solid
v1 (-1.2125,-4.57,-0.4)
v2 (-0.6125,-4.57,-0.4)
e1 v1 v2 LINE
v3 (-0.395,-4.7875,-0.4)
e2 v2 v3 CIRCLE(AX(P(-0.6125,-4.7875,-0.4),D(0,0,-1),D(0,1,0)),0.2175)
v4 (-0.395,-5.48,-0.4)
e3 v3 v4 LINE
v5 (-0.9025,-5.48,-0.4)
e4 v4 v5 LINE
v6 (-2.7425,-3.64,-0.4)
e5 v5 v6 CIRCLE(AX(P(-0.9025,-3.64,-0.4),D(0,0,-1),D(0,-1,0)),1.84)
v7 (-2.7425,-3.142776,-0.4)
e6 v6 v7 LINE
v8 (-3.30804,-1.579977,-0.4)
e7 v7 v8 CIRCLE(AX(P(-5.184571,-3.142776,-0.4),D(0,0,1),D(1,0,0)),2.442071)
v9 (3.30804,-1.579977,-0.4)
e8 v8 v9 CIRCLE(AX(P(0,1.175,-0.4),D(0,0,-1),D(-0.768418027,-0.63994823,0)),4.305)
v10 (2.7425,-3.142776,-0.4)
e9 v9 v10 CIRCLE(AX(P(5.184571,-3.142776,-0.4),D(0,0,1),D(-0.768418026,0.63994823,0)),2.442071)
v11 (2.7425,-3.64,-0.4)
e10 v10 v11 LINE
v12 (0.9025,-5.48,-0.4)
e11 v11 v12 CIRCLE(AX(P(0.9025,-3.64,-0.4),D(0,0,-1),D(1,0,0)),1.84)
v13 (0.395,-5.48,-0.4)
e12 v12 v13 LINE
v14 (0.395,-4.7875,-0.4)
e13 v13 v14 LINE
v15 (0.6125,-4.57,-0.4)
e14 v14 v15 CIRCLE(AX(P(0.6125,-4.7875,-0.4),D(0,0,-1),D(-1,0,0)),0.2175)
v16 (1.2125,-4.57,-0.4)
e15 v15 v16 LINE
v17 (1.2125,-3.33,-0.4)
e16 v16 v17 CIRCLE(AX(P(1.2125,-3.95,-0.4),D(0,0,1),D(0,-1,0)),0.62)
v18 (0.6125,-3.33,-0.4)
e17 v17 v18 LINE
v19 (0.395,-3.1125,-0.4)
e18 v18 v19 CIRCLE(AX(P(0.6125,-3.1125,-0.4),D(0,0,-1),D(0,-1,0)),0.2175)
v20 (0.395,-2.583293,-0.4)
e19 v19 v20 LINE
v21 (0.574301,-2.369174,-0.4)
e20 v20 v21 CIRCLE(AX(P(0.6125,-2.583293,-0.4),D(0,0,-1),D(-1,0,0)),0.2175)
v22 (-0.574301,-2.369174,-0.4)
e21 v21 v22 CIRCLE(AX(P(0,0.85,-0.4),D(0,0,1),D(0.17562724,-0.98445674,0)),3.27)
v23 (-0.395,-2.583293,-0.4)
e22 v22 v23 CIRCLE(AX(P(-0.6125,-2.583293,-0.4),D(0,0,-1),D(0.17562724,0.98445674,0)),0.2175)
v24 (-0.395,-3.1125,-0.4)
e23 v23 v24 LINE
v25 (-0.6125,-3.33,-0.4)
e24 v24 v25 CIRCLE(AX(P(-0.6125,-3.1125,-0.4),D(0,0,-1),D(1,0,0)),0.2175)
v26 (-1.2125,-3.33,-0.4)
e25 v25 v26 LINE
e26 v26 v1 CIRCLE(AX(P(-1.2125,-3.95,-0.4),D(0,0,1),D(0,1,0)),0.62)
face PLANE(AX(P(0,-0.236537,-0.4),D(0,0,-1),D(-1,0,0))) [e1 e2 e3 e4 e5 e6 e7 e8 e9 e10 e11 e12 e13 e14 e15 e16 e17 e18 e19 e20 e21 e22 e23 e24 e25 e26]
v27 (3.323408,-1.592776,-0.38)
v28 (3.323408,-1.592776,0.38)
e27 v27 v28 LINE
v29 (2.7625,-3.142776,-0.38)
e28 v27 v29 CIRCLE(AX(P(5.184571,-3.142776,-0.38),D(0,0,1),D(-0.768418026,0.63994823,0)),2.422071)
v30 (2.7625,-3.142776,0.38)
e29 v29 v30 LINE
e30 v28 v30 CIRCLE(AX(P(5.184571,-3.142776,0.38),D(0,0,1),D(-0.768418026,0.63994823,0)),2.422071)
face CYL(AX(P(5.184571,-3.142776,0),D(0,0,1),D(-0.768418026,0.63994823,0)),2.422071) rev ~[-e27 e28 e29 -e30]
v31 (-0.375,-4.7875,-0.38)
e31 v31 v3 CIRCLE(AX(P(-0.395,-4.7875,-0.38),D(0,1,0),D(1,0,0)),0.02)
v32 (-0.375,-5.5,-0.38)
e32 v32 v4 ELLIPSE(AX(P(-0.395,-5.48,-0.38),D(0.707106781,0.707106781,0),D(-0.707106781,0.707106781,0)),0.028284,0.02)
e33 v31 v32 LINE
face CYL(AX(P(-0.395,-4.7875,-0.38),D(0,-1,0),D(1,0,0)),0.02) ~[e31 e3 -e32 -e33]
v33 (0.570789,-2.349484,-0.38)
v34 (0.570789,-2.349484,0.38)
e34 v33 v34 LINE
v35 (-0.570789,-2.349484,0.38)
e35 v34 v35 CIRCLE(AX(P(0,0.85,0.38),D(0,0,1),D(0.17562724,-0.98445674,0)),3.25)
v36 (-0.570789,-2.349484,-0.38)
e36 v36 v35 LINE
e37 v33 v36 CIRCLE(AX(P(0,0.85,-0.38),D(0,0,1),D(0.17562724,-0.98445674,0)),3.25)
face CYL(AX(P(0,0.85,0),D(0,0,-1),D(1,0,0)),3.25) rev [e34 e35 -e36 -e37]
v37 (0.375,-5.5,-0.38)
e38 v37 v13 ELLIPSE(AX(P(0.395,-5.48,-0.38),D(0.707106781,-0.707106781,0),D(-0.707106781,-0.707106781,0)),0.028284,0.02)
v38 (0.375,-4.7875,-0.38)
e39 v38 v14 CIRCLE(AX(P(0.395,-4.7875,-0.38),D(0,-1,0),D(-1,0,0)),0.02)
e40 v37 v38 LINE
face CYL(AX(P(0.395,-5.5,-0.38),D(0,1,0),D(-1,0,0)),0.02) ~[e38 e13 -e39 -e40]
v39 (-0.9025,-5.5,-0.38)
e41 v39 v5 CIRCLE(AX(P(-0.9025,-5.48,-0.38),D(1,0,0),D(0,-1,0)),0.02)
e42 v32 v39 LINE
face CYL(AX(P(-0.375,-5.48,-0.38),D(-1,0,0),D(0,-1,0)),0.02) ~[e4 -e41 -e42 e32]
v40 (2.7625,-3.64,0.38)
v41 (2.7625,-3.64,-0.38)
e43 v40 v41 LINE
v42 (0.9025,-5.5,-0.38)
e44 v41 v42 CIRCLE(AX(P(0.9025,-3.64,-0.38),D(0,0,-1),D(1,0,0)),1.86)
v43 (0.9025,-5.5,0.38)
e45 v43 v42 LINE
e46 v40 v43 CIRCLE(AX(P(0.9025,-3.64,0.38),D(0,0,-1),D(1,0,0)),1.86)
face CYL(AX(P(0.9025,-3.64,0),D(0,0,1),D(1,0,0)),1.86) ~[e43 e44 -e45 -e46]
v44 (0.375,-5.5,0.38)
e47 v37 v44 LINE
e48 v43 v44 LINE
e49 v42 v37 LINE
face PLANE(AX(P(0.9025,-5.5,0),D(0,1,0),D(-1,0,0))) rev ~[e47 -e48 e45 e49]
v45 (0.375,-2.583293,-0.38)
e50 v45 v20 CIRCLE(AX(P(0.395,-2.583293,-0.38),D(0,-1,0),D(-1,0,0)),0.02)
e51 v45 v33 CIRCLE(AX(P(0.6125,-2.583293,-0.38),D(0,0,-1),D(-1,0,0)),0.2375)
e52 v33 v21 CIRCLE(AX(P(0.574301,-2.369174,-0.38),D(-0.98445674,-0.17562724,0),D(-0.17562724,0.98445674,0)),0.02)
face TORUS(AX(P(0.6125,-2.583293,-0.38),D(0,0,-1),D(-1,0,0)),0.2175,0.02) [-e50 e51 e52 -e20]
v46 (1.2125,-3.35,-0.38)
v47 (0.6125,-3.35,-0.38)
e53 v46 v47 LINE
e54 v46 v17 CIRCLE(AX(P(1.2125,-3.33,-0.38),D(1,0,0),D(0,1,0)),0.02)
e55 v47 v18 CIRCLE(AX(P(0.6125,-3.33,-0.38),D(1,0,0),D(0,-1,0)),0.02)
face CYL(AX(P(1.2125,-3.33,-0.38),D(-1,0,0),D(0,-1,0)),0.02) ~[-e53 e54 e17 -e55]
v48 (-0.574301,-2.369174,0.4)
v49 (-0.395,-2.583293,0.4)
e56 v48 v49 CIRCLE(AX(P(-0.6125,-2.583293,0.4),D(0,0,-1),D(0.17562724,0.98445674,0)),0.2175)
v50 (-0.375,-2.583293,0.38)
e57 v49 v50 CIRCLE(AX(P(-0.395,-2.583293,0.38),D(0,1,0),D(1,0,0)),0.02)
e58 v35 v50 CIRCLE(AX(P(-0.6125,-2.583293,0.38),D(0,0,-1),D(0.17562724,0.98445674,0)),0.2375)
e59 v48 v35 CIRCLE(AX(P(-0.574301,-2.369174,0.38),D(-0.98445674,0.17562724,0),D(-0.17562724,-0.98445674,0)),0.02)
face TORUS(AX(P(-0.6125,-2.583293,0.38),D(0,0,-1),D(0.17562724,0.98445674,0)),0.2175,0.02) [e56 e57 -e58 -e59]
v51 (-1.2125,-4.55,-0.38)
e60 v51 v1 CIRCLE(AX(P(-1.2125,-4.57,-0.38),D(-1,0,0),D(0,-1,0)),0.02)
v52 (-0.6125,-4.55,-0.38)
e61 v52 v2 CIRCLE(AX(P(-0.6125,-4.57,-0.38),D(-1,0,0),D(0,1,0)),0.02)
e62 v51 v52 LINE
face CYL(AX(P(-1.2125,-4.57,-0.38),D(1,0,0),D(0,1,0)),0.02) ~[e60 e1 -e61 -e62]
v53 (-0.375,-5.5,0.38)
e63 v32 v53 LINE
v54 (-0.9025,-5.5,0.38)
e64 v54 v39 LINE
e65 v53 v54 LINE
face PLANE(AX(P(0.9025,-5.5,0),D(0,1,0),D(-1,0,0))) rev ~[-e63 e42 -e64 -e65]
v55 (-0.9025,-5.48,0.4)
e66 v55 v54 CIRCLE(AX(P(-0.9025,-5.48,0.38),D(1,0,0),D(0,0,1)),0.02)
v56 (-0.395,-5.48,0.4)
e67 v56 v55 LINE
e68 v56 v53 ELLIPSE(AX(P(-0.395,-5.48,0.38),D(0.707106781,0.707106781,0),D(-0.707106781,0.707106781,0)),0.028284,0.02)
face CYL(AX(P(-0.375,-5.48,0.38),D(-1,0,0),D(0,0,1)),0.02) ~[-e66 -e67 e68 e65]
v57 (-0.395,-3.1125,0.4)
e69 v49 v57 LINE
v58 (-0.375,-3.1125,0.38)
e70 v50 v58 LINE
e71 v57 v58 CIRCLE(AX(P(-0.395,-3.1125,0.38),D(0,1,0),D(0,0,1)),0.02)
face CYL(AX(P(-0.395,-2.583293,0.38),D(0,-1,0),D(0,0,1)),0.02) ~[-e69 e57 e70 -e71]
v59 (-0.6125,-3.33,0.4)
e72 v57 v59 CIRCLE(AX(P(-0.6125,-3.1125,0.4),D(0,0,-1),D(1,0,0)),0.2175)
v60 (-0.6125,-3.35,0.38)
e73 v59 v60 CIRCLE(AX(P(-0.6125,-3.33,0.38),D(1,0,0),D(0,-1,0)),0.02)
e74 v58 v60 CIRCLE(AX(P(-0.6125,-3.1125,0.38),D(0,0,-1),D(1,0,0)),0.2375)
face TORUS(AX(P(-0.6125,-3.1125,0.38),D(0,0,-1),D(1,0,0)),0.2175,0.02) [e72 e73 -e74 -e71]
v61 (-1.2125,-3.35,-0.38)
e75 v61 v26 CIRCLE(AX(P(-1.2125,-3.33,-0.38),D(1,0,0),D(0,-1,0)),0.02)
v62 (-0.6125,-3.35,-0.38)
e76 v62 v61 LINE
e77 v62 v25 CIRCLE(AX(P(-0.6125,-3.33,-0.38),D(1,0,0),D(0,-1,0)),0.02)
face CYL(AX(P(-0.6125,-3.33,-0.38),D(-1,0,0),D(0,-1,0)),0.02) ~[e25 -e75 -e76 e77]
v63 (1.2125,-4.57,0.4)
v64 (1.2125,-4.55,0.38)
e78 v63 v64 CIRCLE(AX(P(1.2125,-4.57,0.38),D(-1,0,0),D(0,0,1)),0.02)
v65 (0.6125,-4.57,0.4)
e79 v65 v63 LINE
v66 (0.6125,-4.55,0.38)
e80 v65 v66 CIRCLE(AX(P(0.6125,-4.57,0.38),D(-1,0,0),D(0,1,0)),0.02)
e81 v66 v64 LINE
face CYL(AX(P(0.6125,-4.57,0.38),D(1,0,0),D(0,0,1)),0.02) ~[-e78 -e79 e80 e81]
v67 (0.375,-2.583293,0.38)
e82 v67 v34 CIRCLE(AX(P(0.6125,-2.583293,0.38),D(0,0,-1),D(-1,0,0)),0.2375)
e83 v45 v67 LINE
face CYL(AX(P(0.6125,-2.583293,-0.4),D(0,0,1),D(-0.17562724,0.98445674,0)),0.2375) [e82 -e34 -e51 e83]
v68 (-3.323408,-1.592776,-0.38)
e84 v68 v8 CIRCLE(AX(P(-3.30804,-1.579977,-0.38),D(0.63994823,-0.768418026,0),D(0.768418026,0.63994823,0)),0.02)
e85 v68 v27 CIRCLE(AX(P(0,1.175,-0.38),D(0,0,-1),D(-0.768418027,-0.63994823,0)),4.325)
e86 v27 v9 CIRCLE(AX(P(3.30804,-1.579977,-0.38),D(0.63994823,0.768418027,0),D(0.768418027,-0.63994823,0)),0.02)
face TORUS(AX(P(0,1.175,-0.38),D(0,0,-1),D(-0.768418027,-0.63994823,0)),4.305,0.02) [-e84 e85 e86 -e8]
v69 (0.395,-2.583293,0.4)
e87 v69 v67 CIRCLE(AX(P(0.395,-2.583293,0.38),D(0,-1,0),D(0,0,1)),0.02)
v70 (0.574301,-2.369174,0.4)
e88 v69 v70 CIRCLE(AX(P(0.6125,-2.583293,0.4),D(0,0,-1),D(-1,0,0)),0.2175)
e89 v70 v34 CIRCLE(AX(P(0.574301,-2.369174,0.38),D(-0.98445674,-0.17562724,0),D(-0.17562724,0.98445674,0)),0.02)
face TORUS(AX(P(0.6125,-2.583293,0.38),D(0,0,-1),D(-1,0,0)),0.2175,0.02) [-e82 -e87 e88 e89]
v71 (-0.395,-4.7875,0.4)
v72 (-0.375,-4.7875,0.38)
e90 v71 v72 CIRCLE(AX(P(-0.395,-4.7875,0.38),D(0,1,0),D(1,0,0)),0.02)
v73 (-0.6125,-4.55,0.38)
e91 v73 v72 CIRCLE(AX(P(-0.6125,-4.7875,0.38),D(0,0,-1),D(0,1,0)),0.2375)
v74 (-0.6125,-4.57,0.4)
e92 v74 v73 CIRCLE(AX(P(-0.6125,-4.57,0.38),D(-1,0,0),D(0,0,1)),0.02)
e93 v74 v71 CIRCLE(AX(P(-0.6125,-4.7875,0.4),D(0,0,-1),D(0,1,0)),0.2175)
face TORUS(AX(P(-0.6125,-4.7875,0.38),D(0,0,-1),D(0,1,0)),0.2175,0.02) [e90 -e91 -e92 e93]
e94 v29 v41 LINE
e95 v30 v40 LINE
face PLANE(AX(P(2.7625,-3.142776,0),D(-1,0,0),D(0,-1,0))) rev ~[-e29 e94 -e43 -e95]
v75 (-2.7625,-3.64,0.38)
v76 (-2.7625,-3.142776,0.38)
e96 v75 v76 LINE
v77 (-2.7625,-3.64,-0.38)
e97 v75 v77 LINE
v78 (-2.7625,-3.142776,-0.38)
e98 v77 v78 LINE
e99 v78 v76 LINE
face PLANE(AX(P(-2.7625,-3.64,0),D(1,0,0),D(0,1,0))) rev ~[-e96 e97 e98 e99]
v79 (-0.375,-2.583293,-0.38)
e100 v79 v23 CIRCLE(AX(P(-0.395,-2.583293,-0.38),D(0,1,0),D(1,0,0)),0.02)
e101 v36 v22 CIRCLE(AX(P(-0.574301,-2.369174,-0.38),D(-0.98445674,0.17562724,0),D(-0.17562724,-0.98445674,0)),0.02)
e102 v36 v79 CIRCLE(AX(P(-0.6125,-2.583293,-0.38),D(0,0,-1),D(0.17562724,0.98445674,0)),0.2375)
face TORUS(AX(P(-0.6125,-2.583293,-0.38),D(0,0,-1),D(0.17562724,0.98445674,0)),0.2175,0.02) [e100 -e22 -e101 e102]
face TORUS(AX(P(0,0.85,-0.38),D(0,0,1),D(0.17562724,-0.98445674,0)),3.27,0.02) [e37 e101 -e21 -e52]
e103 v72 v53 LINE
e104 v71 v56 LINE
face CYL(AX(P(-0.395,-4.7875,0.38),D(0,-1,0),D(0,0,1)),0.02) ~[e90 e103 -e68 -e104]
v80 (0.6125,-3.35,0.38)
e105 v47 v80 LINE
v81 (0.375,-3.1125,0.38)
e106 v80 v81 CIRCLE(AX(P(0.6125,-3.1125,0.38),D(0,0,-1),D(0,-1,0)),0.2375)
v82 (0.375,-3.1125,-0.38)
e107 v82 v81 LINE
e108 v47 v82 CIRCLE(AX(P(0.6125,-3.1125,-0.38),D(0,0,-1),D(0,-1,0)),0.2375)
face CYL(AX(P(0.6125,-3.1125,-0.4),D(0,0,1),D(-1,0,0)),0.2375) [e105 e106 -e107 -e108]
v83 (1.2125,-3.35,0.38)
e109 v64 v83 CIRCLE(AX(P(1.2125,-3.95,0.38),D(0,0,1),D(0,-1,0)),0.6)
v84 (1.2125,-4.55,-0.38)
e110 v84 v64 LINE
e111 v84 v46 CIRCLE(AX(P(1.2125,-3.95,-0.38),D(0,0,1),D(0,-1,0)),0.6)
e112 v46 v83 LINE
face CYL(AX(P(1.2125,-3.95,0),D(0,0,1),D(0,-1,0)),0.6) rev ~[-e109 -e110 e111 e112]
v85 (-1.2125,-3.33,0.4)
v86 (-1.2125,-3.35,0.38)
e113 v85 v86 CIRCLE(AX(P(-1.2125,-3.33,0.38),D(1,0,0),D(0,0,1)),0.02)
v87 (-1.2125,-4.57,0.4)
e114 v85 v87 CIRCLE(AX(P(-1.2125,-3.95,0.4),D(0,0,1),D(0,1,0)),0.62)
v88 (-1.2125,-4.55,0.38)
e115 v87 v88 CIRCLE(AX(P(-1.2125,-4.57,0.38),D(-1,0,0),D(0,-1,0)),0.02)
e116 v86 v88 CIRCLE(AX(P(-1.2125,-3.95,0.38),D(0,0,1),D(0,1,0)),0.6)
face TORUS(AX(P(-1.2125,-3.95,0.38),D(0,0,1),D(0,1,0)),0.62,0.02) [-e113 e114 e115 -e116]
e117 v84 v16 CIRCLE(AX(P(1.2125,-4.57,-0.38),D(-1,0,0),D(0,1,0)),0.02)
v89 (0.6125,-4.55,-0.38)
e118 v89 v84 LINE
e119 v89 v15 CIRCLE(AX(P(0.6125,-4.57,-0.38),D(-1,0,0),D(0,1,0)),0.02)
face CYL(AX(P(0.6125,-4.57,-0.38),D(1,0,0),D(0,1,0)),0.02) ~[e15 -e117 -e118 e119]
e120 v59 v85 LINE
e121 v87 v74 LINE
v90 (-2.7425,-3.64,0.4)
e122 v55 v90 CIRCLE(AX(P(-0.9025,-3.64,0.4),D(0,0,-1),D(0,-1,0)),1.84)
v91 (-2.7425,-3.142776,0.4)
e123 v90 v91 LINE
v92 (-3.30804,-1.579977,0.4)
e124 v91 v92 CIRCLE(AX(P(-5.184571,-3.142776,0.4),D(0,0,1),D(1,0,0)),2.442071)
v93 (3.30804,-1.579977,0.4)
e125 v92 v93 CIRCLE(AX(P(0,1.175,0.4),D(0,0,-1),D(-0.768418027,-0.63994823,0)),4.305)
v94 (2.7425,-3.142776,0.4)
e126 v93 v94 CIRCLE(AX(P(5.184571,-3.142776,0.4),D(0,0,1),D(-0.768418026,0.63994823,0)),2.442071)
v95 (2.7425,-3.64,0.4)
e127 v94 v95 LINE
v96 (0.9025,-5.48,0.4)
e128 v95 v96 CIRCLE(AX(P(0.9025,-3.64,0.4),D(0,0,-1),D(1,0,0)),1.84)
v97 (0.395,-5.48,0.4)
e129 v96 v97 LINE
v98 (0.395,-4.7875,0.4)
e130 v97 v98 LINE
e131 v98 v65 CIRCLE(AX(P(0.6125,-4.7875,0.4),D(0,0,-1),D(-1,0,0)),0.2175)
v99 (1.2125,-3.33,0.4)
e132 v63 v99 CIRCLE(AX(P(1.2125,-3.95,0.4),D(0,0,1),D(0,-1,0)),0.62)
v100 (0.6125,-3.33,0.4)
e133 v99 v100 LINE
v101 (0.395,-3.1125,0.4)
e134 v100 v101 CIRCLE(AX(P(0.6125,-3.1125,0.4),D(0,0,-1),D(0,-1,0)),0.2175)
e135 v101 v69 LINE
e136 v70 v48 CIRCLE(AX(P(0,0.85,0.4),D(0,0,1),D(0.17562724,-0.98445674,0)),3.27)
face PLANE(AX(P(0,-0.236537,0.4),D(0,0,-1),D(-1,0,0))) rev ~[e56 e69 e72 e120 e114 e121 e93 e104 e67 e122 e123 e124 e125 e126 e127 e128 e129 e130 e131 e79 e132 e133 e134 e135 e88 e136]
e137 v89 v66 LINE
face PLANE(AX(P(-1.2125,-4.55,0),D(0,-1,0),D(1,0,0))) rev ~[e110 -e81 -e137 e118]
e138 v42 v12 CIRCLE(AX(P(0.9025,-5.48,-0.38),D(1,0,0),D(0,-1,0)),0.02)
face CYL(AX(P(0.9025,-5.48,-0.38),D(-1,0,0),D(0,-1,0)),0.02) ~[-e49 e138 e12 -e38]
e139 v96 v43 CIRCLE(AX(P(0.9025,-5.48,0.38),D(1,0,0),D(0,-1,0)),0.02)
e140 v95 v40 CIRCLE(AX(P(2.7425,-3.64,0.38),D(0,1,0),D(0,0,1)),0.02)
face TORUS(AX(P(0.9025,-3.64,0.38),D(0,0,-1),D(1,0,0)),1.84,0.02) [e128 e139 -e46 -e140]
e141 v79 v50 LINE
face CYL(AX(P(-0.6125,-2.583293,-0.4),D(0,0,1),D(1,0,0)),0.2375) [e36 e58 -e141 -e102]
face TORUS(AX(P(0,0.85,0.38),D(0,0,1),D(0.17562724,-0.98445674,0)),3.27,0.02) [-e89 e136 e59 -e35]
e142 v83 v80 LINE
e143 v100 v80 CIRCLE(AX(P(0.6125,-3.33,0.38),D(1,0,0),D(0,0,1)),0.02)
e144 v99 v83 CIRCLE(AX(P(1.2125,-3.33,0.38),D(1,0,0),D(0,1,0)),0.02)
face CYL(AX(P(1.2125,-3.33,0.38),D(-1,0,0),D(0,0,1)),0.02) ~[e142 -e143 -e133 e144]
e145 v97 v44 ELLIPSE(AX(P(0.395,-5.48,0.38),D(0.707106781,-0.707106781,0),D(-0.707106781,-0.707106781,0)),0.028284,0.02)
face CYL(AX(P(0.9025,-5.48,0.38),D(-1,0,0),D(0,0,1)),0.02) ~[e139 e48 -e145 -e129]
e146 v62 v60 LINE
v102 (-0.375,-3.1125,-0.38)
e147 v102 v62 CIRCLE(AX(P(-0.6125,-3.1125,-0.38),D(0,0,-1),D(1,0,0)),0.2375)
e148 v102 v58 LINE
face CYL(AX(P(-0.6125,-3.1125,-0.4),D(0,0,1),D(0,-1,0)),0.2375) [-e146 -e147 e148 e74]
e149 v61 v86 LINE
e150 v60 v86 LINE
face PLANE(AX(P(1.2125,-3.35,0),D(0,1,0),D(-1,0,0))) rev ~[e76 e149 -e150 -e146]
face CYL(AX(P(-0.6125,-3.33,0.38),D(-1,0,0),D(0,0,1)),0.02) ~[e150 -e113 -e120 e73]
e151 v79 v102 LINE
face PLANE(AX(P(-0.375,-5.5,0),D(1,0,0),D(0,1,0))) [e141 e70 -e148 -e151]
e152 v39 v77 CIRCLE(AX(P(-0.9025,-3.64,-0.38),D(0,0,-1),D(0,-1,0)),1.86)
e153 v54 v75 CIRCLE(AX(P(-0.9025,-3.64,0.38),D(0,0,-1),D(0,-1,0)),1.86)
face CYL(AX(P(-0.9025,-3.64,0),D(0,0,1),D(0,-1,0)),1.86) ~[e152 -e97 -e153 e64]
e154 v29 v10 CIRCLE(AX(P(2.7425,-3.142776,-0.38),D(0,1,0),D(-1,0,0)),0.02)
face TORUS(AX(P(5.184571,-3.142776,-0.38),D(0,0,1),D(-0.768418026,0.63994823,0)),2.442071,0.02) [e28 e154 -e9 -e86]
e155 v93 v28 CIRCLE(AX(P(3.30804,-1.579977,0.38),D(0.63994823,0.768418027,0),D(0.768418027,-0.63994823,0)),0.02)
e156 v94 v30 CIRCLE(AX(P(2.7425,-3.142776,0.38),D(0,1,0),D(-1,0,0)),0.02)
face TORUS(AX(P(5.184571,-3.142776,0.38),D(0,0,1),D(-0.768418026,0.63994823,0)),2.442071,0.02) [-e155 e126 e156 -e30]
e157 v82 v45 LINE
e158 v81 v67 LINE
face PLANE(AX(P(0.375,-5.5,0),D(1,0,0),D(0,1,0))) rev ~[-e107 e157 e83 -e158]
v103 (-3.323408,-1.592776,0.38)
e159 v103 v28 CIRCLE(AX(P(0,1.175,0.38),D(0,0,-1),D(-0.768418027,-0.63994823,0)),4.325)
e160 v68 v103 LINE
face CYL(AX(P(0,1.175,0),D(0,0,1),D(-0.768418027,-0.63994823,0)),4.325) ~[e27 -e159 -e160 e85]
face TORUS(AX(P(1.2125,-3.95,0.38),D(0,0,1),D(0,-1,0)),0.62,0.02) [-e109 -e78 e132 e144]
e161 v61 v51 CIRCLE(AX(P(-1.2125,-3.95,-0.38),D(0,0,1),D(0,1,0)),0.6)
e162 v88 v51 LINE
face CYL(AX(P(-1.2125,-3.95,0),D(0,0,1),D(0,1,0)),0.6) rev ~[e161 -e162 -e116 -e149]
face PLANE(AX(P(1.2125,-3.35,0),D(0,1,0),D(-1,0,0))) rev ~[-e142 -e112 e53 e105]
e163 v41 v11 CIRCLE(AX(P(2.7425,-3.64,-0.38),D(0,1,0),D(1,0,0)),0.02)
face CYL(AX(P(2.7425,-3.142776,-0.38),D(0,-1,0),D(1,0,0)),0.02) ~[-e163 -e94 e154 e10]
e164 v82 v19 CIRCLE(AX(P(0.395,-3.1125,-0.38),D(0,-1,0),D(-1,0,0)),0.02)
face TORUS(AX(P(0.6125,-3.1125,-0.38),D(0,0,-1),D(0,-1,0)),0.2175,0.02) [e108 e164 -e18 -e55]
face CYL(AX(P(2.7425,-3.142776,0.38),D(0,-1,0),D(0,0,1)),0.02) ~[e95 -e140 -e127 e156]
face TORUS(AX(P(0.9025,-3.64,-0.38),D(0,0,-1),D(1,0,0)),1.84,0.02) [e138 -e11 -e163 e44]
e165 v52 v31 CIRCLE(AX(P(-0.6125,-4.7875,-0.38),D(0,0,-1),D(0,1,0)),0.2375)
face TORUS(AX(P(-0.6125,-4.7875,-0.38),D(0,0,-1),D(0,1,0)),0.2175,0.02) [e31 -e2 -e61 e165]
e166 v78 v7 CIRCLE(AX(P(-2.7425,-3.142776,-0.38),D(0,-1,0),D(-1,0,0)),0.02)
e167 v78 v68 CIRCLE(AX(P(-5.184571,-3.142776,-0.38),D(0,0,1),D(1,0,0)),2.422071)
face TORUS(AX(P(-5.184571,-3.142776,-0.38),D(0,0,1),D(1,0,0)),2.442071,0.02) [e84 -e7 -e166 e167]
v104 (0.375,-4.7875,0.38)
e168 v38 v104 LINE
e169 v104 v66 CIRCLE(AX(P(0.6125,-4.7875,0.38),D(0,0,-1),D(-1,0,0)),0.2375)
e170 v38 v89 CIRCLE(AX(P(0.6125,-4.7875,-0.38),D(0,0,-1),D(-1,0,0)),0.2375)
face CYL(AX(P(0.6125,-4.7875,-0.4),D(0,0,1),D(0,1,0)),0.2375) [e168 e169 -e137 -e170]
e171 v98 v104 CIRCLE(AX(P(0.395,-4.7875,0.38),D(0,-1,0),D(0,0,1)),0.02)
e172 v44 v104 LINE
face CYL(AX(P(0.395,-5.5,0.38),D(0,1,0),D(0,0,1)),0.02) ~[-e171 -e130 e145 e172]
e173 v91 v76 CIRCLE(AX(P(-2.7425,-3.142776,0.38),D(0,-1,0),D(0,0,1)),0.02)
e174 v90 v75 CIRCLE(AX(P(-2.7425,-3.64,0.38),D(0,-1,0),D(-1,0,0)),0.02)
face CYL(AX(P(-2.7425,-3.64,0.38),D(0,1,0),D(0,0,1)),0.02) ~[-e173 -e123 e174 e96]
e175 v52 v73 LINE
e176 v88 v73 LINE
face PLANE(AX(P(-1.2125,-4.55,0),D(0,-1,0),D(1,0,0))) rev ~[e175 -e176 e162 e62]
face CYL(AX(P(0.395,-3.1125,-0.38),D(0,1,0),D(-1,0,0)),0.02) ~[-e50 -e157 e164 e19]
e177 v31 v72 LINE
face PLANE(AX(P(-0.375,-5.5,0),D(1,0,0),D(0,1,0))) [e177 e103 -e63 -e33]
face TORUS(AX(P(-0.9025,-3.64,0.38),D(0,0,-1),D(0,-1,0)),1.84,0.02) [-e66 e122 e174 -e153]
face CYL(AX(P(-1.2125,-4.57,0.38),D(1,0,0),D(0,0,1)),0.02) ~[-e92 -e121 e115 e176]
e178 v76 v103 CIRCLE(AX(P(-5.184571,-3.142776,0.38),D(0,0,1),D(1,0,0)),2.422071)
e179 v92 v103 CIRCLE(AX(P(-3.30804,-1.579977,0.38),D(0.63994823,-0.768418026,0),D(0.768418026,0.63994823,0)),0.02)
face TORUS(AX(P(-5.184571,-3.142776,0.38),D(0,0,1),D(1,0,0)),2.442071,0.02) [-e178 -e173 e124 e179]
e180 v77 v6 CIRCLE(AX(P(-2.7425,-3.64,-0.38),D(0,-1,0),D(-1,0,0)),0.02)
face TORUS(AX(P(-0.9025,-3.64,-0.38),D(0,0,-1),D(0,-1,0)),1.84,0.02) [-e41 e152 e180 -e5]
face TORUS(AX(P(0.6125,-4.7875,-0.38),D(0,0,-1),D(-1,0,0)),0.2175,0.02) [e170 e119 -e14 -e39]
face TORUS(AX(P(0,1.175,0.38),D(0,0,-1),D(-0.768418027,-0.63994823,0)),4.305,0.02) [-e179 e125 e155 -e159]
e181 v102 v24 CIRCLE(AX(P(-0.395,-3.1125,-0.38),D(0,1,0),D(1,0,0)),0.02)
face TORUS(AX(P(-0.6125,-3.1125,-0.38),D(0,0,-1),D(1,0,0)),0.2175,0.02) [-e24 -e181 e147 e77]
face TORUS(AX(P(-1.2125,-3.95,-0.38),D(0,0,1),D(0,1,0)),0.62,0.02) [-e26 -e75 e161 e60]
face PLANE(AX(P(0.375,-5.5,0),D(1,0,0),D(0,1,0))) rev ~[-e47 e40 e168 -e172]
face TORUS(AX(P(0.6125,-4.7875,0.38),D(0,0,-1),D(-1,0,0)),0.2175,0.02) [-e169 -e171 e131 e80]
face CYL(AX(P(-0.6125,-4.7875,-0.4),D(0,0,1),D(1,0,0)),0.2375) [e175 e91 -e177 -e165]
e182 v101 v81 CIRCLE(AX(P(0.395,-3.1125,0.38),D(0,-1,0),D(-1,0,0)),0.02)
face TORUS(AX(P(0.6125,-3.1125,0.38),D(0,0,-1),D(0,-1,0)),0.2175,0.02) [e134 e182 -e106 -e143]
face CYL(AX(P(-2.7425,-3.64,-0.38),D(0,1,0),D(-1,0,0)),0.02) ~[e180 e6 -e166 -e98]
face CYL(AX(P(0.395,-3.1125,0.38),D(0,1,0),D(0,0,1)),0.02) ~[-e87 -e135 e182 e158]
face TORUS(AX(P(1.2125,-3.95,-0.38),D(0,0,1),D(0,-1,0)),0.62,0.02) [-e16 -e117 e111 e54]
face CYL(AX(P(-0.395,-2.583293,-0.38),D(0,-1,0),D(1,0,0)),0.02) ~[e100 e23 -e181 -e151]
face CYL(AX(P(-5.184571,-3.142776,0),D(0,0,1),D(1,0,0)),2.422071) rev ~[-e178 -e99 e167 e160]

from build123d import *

# Parameters (mm, degrees)
SKETCH3_R                    = 3.25
BOSS_EXTRUDE1_DEPTH          = 0.4
SKETCH4_W                    = 0.75
SKETCH4_H                    = 6.35
CUT_EXTRUDE_THIN1_DEPTH      = 1.4
CUT_EXTRUDE_THIN1_DEPTH_BACK = 1.4
FILLET2_R                    = 0.2375
FILLET1_R                    = 0.02


with BuildPart() as part:
    # Sketch3 → Boss-Extrude1 (new body, symmetric)
    with BuildSketch(Plane.XY):
        with BuildLine():
            Line((2.7625, -3.142776093), (2.7625, -3.64))
            ThreePointArc((2.7625, -3.64), (2.217718613, -4.955218613), (0.9025, -5.5))
            Line((0.9025, -5.5), (-0.9025, -5.5))
            ThreePointArc((-0.9025, -5.5), (-2.217718613, -4.955218613), (-2.7625, -3.64))
            Line((-2.7625, -3.64), (-2.7625, -3.142776093))
            ThreePointArc((-2.7625, -3.142776093), (-2.907039777, -2.31859199), (-3.323407965, -1.592776093))
            ThreePointArc((-3.323407965, -1.592776093), (0, 5.5), (3.323407965, -1.592776093))
            ThreePointArc((3.323407965, -1.592776093), (2.907039777, -2.31859199), (2.7625, -3.142776093))
        make_face()
        with Locations((0, 0.85)):
            Circle(SKETCH3_R, mode=Mode.SUBTRACT)
        with BuildLine():
            Line((-1.2125, -4.55), (1.2125, -4.55))
            ThreePointArc((1.2125, -4.55), (1.8125, -3.95), (1.2125, -3.35))
            Line((1.2125, -3.35), (-1.2125, -3.35))
            ThreePointArc((-1.2125, -3.35), (-1.8125, -3.95), (-1.2125, -4.55))
        make_face(mode=Mode.SUBTRACT)
    extrude(amount=BOSS_EXTRUDE1_DEPTH, both=True)

    # Sketch4 → Cut-Extrude-Thin1 (cut, two sides)
    with BuildSketch(Plane.XY) as cut_extrude_thin1_sk:
        with Locations((0, -2.325)):
            Rectangle(SKETCH4_W, SKETCH4_H)
    extrude(amount=CUT_EXTRUDE_THIN1_DEPTH, mode=Mode.SUBTRACT)
    extrude(cut_extrude_thin1_sk.sketch, amount=-CUT_EXTRUDE_THIN1_DEPTH_BACK, mode=Mode.SUBTRACT)

    # Fillet2
    fillet2_edges = [part.edges().sort_by_distance(p)[0] for p in [
        (0.375, -2.378292893, 0),
        (-0.375, -2.378292893, 0),
        (-0.375, -4.55, 0),
        (-0.375, -3.35, 0),
        (0.375, -4.55, 0),
        (0.375, -3.35, 0),
    ]]
    fillet(fillet2_edges, radius=FILLET2_R)

    # Fillet1
    fillet1_edges = [part.edges().sort_by_distance(p)[0] for p in [
        (-2.217718613, -4.955218613, 0.4),
        (-2.7625, -3.391388046, -0.4),
        (-2.907039777, -2.31859199, -0.4),
        (-0.63875, -5.5, 0.4),
        (2.217718613, -4.955218613, 0.4),
        (2.7625, -3.391388046, 0.4),
        (2.907039777, -2.31859199, 0.4),
        (-1.8125, -3.95, -0.4),
        (-0.9125, -4.55, -0.4),
        (1.8125, -3.95, -0.4),
        (0.9125, -3.35, -0.4),
        (0, 5.5, 0.4),
        (-1.8125, -3.95, 0.4),
        (-0.9125, -4.55, 0.4),
        (1.8125, -3.95, 0.4),
        (0.9125, -3.35, 0.4),
        (-2.907039777, -2.31859199, 0.4),
        (0.63875, -5.5, -0.4),
        (0.63875, -5.5, 0.4),
        (-2.7625, -3.391388046, 0.4),
        (0, 5.5, -0.4),
        (0.9125, -4.55, -0.4),
        (0.9125, -4.55, 0.4),
        (-0.375, -5.14375, 0.4),
        (-0.9125, -3.35, 0.4),
        (-0.375, -2.84789644, 0.4),
        (0, 4.1, 0.4),
        (0.375, -2.84789644, 0.4),
        (2.907039777, -2.31859199, -0.4),
        (0.375, -5.14375, 0.4),
        (-0.430411115, -2.43081374, 0.4),
        (-0.444562139, -3.280437861, 0.4),
        (0.430411115, -2.43081374, 0.4),
        (0.444562139, -3.280437861, 0.4),
        (-0.444562139, -4.619562139, 0.4),
        (0.444562139, -4.619562139, 0.4),
        (0.375, -5.14375, -0.4),
        (2.7625, -3.391388046, -0.4),
        (-0.375, -5.14375, -0.4),
        (0.375, -2.84789644, -0.4),
        (0, 4.1, -0.4),
        (-0.375, -2.84789644, -0.4),
        (-0.9125, -3.35, -0.4),
        (-0.430411115, -2.43081374, -0.4),
        (-0.444562139, -3.280437861, -0.4),
        (2.217718613, -4.955218613, -0.4),
        (0.430411115, -2.43081374, -0.4),
        (0.444562139, -3.280437861, -0.4),
        (-0.444562139, -4.619562139, -0.4),
        (0.444562139, -4.619562139, -0.4),
        (-0.63875, -5.5, -0.4),
        (-2.217718613, -4.955218613, -0.4),
    ]]
    fillet(fillet1_edges, radius=FILLET1_R)


solid = part.part
